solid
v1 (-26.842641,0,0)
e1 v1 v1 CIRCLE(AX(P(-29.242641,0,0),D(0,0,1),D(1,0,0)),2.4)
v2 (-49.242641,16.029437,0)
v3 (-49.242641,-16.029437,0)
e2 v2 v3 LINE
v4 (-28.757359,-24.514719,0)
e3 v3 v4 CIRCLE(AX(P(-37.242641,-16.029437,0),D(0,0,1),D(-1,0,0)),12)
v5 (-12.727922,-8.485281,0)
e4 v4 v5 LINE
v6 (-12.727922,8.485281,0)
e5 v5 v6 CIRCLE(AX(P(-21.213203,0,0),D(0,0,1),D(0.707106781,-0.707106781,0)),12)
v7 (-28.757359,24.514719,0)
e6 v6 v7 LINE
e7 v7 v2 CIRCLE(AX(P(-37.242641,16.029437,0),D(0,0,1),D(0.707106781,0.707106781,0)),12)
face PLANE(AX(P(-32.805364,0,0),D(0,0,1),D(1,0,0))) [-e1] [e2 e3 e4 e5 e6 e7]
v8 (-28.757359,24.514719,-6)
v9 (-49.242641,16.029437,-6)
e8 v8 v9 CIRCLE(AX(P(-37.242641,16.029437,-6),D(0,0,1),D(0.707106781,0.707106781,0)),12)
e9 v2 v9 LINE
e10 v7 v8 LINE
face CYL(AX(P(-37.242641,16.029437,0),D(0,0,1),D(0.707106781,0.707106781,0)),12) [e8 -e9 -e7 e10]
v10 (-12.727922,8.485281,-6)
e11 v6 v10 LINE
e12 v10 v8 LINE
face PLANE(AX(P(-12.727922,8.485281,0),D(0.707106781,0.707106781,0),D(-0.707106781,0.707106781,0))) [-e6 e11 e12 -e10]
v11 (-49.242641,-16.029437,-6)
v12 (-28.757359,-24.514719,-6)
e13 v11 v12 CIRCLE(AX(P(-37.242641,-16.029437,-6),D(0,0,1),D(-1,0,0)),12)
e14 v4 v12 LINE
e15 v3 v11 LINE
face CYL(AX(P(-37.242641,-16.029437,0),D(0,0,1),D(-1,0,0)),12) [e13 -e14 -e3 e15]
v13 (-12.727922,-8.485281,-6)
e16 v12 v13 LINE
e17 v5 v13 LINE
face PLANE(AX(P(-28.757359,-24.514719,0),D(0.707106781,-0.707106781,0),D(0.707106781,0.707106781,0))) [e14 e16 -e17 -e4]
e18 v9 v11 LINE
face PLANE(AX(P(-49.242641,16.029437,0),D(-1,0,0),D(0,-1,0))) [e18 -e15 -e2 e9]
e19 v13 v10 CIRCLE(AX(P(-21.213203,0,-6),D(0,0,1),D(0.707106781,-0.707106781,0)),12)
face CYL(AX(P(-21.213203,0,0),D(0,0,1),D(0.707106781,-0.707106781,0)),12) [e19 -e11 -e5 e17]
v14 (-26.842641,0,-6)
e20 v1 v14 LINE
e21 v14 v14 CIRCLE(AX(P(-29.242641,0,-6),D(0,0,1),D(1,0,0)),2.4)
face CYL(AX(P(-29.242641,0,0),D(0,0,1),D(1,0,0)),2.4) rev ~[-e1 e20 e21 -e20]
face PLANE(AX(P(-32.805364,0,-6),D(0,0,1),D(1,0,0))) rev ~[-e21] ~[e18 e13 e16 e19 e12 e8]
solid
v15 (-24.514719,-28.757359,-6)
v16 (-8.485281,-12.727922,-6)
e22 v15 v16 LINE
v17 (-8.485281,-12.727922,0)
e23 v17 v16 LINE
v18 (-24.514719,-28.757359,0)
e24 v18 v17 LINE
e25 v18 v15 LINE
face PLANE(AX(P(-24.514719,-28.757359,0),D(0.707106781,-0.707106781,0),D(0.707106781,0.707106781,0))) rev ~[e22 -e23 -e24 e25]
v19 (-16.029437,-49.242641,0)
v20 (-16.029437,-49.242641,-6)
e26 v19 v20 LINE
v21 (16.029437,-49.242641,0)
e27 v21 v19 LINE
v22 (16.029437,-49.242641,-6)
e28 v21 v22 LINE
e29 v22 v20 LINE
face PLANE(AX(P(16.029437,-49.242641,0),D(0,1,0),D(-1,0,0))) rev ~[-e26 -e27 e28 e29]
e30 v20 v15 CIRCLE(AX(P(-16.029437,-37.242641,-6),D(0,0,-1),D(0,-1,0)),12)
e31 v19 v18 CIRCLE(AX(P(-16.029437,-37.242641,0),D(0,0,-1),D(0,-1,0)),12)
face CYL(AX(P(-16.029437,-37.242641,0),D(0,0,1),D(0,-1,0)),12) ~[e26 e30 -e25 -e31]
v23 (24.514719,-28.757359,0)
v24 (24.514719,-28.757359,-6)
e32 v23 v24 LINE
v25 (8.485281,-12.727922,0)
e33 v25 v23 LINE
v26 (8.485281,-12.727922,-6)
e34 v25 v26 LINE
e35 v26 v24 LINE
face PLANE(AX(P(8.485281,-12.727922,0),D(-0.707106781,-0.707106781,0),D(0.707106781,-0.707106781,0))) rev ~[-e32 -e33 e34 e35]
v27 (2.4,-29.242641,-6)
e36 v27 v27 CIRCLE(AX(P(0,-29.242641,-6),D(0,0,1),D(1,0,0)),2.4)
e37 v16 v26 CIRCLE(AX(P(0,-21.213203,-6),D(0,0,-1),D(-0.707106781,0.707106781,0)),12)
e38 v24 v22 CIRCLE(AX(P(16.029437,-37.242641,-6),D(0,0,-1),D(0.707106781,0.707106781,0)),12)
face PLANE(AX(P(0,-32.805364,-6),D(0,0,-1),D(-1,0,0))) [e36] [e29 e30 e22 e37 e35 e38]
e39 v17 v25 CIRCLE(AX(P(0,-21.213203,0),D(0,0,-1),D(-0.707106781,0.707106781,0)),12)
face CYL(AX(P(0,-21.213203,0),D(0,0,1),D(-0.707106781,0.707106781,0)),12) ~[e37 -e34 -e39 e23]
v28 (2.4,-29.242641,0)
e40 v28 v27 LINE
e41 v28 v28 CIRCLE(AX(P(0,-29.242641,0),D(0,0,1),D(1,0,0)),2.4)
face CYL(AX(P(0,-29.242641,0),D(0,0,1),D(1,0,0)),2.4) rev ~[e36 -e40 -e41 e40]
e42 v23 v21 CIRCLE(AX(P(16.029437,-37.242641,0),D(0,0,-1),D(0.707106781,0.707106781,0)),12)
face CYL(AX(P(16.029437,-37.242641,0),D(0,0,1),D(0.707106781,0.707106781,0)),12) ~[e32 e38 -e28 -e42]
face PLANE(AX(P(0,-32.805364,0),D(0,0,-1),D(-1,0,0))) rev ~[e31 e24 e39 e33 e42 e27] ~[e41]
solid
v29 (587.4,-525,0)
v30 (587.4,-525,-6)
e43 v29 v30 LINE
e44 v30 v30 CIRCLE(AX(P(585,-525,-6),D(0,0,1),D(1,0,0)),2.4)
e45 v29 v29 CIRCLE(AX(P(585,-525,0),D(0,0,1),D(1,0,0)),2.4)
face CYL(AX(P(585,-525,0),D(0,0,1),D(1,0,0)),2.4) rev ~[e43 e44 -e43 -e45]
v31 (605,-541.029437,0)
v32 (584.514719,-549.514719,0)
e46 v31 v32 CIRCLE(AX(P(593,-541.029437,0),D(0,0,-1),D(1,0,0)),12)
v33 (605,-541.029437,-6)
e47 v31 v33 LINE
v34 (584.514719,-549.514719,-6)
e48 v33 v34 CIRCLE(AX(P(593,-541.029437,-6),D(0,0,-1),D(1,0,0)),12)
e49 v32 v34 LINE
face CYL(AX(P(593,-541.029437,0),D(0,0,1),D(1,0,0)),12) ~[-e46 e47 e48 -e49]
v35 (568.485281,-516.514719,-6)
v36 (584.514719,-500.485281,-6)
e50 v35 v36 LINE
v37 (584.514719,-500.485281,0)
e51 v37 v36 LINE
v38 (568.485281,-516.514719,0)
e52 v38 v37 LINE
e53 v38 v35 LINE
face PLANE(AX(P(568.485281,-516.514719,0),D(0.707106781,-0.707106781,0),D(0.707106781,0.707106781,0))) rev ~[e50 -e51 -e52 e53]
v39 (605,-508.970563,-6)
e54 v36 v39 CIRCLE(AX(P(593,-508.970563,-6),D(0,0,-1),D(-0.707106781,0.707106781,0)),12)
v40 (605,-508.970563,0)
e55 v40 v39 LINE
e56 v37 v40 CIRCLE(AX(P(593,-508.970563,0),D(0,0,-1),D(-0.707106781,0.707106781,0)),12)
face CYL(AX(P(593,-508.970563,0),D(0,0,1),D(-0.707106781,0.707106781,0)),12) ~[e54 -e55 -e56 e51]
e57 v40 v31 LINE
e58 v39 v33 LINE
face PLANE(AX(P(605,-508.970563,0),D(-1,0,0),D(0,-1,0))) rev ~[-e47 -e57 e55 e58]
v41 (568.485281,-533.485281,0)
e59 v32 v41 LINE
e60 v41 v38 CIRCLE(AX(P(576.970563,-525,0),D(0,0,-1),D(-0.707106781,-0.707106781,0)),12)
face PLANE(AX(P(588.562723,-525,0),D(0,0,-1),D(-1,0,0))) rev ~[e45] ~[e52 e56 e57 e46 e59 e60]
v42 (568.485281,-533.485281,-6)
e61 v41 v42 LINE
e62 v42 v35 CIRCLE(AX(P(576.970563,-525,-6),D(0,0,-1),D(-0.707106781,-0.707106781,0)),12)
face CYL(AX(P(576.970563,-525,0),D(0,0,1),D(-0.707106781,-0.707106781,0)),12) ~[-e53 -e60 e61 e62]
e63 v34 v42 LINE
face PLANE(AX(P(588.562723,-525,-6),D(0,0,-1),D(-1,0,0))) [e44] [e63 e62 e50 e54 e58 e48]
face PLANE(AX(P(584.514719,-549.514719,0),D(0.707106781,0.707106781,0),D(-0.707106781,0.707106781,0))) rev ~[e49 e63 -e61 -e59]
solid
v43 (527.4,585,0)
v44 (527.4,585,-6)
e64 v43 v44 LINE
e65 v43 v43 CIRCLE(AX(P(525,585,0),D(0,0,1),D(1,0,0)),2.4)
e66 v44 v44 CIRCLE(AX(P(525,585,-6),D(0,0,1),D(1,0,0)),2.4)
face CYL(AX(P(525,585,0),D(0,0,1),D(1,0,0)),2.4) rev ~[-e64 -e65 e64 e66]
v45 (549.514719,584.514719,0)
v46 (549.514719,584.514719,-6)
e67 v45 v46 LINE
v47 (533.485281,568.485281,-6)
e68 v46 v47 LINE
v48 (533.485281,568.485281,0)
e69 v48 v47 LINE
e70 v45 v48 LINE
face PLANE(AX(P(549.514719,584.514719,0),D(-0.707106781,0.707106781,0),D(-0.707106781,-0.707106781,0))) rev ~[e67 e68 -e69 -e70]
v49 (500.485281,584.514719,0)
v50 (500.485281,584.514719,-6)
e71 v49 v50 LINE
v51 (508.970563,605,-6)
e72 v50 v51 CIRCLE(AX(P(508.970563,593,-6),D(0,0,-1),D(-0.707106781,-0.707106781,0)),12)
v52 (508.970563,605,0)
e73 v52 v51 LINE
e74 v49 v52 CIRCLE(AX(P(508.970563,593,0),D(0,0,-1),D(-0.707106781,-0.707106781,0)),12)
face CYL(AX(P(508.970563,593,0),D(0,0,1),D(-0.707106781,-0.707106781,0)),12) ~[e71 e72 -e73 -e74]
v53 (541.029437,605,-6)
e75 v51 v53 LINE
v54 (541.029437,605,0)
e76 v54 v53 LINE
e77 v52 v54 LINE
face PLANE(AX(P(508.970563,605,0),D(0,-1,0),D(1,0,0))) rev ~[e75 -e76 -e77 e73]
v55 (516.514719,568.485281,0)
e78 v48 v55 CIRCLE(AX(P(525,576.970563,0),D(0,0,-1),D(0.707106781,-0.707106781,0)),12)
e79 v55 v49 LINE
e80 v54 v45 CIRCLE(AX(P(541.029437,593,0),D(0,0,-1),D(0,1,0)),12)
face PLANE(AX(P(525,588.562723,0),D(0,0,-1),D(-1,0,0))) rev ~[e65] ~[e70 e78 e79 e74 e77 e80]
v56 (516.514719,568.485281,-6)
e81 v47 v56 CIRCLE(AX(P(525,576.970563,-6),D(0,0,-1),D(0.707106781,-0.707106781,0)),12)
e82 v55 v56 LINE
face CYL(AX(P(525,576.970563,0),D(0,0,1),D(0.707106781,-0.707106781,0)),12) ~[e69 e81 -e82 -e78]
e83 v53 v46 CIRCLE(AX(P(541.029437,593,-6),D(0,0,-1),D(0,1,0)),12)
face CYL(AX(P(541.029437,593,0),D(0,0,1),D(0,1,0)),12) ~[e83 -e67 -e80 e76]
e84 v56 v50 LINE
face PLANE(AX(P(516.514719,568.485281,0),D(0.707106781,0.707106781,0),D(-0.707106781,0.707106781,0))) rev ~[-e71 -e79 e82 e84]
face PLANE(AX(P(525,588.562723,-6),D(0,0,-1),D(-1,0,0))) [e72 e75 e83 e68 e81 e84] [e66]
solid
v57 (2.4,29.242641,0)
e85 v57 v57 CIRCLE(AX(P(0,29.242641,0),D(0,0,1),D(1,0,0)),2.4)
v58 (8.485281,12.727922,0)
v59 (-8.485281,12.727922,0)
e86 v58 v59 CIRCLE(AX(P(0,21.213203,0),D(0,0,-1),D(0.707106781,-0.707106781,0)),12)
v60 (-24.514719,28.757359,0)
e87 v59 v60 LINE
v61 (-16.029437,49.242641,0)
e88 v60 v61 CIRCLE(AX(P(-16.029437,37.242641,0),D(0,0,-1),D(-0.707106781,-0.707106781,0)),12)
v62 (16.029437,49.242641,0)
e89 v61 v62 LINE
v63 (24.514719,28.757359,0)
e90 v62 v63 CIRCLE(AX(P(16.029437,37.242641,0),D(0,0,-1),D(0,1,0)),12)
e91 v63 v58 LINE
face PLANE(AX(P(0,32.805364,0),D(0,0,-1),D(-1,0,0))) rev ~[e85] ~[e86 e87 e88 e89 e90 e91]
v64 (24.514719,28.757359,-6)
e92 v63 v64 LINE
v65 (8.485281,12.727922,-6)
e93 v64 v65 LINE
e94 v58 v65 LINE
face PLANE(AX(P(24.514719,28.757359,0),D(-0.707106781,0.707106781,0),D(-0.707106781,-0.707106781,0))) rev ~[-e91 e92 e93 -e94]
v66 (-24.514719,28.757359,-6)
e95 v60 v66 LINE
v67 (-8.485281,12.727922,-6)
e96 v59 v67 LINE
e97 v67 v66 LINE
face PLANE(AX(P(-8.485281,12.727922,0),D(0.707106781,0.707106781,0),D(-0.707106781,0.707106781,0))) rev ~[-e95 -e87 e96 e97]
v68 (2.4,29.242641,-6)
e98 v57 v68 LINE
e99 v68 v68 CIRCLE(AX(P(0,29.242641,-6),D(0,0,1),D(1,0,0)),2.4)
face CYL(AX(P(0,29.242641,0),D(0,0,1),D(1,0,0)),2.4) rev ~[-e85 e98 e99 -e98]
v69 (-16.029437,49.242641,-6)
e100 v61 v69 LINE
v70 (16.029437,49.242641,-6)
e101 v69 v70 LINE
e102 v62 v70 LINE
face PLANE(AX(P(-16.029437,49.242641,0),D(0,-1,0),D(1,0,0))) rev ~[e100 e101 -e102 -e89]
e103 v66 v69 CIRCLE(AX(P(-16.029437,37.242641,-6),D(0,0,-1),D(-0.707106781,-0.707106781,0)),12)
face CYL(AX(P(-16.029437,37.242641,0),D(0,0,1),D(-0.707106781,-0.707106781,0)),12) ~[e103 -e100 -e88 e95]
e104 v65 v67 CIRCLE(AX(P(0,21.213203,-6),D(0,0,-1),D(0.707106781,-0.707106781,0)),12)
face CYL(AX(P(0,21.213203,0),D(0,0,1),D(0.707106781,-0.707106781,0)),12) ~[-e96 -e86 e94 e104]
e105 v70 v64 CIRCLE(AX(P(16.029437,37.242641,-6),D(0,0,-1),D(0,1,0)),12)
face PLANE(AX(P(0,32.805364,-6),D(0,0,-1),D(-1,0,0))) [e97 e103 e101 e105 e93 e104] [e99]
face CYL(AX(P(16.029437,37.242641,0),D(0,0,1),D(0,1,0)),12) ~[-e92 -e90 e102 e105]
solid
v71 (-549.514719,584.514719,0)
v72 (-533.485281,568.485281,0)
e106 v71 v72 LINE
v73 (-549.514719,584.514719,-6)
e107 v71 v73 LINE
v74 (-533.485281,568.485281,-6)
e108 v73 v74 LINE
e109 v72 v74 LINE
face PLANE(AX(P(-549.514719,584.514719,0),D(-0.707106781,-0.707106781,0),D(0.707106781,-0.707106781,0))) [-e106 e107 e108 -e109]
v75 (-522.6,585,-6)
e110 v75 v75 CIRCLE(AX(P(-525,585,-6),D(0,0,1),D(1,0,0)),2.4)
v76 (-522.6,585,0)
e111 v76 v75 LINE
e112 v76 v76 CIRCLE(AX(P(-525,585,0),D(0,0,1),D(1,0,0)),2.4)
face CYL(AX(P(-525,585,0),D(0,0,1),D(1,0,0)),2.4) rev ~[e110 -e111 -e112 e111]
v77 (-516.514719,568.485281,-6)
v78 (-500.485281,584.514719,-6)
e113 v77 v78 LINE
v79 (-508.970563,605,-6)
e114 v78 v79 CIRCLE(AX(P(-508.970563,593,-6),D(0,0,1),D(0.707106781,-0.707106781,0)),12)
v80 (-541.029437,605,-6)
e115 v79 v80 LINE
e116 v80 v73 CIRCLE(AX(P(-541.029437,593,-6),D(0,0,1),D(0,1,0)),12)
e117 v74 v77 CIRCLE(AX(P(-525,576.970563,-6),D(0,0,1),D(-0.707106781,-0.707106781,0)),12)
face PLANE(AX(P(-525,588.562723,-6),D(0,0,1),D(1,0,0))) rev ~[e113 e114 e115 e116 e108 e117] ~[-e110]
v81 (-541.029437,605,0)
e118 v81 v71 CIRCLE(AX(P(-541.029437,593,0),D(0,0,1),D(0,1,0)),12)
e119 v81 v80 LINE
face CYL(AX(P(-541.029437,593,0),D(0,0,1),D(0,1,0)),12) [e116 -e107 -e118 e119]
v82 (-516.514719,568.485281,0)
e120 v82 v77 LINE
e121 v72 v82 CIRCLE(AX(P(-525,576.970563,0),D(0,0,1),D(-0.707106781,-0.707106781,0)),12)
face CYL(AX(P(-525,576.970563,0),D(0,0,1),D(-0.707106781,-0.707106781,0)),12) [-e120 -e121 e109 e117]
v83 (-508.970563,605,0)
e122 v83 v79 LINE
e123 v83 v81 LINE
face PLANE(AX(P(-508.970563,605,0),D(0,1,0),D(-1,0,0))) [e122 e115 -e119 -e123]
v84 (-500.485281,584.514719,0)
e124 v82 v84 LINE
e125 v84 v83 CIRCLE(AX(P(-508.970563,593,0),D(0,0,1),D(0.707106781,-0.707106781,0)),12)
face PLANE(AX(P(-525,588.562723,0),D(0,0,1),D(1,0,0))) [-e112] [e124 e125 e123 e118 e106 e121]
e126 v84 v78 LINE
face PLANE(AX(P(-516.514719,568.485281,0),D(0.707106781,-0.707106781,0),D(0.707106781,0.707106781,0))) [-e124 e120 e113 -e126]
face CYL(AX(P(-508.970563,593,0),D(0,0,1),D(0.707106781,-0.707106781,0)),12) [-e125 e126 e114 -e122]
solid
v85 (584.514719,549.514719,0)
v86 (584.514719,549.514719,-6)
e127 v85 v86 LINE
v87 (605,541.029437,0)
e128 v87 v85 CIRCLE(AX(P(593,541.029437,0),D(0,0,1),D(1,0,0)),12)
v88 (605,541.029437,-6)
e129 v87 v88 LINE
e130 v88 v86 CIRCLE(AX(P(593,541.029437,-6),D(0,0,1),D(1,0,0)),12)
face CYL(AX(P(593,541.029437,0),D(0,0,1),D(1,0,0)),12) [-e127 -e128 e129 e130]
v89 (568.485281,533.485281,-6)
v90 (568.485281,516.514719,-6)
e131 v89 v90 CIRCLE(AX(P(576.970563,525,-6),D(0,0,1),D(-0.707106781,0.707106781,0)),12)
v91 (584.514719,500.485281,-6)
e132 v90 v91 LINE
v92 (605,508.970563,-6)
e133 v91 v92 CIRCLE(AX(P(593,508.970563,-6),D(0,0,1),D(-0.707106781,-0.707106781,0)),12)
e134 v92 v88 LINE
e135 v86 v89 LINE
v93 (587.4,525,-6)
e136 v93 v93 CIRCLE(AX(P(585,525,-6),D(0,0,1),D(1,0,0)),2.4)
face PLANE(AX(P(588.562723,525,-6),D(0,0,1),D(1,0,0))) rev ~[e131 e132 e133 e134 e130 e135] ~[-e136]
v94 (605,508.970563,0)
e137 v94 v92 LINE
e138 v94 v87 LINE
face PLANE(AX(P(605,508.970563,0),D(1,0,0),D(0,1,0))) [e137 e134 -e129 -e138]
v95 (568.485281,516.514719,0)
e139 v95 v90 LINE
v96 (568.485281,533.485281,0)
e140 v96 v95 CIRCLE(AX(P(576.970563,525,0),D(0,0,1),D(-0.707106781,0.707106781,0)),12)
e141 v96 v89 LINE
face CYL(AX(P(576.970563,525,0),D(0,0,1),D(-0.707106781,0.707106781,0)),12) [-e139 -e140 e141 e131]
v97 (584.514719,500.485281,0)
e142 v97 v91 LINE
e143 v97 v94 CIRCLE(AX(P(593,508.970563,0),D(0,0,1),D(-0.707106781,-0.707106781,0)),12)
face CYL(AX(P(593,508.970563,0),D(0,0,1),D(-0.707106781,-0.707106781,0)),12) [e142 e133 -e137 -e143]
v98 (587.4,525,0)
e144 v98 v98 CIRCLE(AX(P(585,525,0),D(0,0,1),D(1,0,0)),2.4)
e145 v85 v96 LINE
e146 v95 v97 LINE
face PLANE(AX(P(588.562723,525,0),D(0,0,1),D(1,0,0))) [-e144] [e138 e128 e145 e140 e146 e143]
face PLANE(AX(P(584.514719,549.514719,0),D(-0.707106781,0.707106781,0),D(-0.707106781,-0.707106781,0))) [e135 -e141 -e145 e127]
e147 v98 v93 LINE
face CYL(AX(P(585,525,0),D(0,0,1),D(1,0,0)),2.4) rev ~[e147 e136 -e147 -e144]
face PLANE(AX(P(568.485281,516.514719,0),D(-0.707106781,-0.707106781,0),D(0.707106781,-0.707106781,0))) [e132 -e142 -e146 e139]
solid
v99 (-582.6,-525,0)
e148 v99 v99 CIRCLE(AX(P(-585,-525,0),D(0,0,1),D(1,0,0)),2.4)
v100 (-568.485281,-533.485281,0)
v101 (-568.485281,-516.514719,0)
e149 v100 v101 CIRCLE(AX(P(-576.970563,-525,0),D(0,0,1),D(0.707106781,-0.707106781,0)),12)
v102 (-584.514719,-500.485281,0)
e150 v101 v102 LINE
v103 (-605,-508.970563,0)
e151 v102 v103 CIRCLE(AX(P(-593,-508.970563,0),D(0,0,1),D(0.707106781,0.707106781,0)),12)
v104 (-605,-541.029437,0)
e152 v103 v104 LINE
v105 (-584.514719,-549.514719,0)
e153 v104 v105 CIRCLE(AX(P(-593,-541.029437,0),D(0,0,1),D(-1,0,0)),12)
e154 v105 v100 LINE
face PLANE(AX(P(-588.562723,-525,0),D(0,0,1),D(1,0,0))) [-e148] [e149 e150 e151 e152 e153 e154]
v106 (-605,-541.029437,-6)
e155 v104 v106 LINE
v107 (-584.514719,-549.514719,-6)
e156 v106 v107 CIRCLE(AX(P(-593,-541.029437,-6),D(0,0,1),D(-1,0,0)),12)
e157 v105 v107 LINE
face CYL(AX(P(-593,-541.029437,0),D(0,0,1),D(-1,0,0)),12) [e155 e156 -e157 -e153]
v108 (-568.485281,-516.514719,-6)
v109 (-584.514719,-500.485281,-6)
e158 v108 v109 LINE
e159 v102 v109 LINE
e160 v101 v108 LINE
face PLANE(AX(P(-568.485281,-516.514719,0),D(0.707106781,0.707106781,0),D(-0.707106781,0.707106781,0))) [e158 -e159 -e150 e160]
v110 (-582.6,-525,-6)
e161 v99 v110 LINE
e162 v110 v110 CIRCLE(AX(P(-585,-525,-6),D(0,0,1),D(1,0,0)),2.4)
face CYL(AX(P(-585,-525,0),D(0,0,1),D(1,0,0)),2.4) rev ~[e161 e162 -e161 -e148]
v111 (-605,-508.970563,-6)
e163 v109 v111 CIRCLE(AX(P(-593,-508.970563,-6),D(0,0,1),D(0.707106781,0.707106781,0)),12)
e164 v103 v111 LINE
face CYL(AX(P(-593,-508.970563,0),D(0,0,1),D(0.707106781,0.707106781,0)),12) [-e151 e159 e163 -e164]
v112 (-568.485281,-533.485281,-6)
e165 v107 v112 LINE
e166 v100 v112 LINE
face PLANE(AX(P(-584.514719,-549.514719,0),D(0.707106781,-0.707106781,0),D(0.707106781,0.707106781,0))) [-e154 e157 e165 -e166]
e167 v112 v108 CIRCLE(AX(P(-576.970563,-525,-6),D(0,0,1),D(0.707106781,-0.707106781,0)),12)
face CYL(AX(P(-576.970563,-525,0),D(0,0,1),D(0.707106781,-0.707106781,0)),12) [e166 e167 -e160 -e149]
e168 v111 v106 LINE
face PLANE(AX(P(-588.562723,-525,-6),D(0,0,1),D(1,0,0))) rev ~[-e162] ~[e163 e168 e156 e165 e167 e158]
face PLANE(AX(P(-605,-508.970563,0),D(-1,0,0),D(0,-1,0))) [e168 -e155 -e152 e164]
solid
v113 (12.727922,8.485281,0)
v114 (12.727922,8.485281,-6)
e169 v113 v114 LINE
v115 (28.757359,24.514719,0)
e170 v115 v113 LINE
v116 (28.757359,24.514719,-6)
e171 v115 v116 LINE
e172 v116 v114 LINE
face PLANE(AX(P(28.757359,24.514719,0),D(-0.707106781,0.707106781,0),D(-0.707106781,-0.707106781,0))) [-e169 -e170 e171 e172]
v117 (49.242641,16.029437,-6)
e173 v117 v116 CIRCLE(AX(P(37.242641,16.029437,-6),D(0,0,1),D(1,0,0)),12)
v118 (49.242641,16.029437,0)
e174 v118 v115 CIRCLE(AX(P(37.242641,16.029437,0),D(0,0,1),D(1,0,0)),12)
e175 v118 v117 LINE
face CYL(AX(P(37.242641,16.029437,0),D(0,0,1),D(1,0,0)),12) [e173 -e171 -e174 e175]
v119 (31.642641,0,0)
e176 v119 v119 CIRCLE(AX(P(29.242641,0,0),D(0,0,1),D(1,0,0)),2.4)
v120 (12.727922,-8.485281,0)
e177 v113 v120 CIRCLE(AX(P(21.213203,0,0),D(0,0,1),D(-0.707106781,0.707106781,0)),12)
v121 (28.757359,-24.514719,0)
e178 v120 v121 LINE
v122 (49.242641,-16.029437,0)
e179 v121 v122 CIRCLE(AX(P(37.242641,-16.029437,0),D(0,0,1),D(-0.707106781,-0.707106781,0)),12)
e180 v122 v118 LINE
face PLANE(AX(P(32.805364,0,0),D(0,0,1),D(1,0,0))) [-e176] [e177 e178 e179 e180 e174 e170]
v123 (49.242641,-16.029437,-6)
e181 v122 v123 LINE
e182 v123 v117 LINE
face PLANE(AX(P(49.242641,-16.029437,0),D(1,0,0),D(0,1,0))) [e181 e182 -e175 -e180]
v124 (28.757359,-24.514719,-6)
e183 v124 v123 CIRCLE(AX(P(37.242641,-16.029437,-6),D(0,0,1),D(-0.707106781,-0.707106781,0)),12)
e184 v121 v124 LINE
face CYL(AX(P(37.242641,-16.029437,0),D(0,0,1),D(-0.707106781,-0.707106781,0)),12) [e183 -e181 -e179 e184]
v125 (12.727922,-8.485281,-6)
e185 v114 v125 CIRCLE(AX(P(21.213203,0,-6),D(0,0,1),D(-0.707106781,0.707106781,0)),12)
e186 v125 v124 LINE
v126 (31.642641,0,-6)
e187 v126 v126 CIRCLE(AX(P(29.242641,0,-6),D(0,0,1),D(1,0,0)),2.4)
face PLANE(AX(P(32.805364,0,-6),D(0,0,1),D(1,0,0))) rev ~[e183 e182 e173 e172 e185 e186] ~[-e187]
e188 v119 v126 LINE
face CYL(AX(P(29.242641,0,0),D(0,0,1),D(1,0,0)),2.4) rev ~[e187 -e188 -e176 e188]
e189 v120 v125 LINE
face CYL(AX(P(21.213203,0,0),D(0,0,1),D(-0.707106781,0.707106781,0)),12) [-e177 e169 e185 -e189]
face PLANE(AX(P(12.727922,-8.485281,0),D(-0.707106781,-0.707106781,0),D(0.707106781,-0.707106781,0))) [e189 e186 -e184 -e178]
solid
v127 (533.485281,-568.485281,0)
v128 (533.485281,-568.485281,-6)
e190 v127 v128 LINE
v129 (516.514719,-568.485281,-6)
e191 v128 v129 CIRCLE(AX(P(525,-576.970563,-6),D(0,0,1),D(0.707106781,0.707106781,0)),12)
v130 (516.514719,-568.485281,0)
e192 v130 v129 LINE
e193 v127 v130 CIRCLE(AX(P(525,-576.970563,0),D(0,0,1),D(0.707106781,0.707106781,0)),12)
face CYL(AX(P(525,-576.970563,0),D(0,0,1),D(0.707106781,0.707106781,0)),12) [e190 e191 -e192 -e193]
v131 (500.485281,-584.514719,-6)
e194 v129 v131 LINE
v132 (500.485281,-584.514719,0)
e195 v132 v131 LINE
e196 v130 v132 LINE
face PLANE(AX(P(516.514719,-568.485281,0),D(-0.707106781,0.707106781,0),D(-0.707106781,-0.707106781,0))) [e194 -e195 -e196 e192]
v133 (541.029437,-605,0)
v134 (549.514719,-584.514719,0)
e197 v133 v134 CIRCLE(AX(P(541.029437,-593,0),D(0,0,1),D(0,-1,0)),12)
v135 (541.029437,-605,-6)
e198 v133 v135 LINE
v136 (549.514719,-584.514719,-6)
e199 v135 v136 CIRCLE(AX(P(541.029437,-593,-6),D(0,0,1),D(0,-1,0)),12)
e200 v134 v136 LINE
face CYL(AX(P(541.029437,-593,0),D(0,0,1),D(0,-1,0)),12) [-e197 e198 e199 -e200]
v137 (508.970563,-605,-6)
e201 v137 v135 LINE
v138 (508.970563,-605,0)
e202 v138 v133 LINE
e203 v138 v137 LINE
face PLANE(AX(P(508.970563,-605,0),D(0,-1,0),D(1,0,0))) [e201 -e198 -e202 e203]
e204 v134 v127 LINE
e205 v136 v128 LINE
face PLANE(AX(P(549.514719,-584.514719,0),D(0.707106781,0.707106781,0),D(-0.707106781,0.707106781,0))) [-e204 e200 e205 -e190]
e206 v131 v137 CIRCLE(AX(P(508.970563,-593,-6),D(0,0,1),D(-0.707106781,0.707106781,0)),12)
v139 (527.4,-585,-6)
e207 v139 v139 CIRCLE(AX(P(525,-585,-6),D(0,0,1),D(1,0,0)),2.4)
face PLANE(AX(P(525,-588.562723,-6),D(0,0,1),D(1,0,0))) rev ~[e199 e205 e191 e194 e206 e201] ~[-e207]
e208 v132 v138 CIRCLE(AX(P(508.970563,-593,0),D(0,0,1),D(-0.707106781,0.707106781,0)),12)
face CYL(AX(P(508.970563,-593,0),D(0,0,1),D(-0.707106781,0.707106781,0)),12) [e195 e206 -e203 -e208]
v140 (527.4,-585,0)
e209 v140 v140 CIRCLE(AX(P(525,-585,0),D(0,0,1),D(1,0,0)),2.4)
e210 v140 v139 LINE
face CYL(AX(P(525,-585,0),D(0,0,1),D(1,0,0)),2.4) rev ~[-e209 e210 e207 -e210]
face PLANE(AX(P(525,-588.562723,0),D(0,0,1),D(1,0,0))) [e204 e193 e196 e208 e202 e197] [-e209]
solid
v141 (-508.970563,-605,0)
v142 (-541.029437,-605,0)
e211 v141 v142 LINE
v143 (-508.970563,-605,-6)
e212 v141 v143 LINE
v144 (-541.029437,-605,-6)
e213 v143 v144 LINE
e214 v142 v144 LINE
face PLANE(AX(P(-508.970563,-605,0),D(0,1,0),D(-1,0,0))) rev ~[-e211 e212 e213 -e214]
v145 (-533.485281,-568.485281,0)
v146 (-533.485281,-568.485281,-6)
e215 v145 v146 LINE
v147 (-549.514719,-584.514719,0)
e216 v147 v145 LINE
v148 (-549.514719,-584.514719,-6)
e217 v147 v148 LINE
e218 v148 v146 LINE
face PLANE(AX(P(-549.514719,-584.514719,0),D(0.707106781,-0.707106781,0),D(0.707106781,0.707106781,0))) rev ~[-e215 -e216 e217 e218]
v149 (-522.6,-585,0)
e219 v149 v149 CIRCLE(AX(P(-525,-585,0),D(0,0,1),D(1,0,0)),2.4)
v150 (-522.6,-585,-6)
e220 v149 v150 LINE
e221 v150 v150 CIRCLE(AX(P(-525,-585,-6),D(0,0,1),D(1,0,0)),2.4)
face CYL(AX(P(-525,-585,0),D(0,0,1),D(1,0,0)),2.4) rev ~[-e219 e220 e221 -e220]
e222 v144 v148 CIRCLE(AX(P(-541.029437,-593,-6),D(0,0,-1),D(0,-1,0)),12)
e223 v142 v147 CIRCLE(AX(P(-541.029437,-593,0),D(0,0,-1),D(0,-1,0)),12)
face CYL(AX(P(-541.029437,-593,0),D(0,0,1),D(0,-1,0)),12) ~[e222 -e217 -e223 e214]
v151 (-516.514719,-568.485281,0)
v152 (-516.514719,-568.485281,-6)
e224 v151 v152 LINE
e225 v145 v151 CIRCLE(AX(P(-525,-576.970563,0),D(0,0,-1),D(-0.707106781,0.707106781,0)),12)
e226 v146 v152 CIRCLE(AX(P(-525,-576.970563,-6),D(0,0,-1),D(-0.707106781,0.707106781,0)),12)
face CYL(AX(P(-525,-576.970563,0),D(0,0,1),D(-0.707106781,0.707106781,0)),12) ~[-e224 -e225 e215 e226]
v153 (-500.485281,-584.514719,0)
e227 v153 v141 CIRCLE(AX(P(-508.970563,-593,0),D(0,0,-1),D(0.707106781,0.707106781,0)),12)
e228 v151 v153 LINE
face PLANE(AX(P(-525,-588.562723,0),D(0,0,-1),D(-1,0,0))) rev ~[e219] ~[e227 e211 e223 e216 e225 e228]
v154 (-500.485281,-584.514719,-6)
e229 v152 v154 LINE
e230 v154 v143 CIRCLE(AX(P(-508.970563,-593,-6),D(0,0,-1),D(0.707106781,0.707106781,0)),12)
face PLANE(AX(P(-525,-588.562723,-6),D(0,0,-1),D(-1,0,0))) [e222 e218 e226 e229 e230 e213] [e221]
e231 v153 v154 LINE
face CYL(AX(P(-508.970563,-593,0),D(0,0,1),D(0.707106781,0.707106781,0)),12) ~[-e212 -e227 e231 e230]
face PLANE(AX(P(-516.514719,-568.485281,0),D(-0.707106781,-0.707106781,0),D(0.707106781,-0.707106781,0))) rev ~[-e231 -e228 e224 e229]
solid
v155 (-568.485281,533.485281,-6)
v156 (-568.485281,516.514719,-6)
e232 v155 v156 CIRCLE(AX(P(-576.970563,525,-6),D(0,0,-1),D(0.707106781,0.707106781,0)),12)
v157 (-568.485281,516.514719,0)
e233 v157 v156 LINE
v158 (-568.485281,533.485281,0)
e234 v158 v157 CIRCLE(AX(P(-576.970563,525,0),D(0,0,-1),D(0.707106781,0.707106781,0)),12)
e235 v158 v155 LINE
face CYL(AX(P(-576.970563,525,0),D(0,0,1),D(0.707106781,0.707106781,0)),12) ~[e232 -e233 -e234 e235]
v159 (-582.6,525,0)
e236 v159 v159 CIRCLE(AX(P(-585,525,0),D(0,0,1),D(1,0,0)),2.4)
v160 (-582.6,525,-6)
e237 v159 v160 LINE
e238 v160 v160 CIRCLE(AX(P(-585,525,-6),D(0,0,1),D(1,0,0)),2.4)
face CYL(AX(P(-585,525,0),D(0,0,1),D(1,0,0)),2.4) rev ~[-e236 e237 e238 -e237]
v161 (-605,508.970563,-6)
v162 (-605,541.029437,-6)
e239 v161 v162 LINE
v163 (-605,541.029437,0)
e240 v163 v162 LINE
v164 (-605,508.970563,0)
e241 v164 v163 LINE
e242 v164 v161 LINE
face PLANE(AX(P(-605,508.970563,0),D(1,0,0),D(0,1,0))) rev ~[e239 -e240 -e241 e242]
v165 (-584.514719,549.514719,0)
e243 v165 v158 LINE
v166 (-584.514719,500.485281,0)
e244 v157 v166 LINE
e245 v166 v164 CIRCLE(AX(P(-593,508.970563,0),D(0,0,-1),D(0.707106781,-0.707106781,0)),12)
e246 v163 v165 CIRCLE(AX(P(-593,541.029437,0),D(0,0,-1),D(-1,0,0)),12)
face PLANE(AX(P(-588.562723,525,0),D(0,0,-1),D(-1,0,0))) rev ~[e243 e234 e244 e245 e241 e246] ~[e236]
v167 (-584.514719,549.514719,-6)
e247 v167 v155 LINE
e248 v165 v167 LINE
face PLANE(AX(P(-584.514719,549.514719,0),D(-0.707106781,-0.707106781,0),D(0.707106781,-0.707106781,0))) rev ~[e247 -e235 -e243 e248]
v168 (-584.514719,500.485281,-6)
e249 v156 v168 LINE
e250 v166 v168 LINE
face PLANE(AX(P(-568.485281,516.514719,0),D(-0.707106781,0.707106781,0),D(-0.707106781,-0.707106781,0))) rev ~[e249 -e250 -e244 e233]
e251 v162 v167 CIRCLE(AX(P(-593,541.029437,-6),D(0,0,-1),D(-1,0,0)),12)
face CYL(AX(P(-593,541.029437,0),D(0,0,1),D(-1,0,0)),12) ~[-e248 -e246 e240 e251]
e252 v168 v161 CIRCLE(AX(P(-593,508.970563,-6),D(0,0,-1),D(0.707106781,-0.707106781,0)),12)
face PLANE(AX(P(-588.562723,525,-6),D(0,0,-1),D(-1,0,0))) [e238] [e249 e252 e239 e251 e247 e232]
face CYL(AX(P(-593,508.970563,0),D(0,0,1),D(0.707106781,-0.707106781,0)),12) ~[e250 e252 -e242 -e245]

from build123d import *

# Parameters (mm, degrees)
SKETCH1_R              = 2.4
BOSS_EXTRUDE1_DEPTH    = 6
BOSS_EXTRUDE1_2_DEPTH  = 6
BOSS_EXTRUDE1_3_DEPTH  = 6
BOSS_EXTRUDE1_4_DEPTH  = 6
BOSS_EXTRUDE1_5_DEPTH  = 6
BOSS_EXTRUDE1_6_DEPTH  = 6
BOSS_EXTRUDE1_7_DEPTH  = 6
BOSS_EXTRUDE1_8_DEPTH  = 6
BOSS_EXTRUDE1_9_DEPTH  = 6
BOSS_EXTRUDE1_10_DEPTH = 6
BOSS_EXTRUDE1_11_DEPTH = 6
BOSS_EXTRUDE1_12_DEPTH = 6


with BuildPart() as part:
    # Sketch1 → Boss-Extrude1 (new body)
    with BuildSketch(Plane.XY):
        with BuildLine():
            Line((549.514718626, -584.514718626), (533.485281374, -568.485281374))
            ThreePointArc((533.485281374, -568.485281374), (525, -564.970562748), (516.514718626, -568.485281374))
            Line((516.514718626, -568.485281374), (500.485281374, -584.514718626))
            ThreePointArc((500.485281374, -584.514718626), (497.884008358, -597.592201188), (508.970562748, -605))
            Line((508.970562748, -605), (541.029437252, -605))
            ThreePointArc((541.029437252, -605), (552.115991642, -597.592201188), (549.514718626, -584.514718626))
        make_face()
        with Locations((525, -585)):
            Circle(SKETCH1_R, mode=Mode.SUBTRACT)
    extrude(amount=-BOSS_EXTRUDE1_DEPTH)


with BuildPart() as body_2:
    # Sketch1 → Boss-Extrude1 2 (new body)
    with BuildSketch(Plane.XY):
        with BuildLine():
            Line((605, -508.970562748), (605, -541.029437252))
            ThreePointArc((605, -541.029437252), (597.592201188, -552.115991642), (584.514718626, -549.514718626))
            Line((584.514718626, -549.514718626), (568.485281374, -533.485281374))
            ThreePointArc((568.485281374, -533.485281374), (564.970562748, -525), (568.485281374, -516.514718626))
            Line((568.485281374, -516.514718626), (584.514718626, -500.485281374))
            ThreePointArc((584.514718626, -500.485281374), (597.592201188, -497.884008358), (605, -508.970562748))
        make_face()
        with Locations((585, -525)):
            Circle(SKETCH1_R, mode=Mode.SUBTRACT)
    extrude(amount=-BOSS_EXTRUDE1_2_DEPTH)


with BuildPart() as body_3:
    # Sketch1 → Boss-Extrude1 3 (new body)
    with BuildSketch(Plane.XY):
        with BuildLine():
            Line((-584.514718626, -549.514718626), (-568.485281374, -533.485281374))
            ThreePointArc((-568.485281374, -533.485281374), (-564.970562748, -525), (-568.485281374, -516.514718626))
            Line((-568.485281374, -516.514718626), (-584.514718626, -500.485281374))
            ThreePointArc((-584.514718626, -500.485281374), (-597.592201188, -497.884008358), (-605, -508.970562748))
            Line((-605, -508.970562748), (-605, -541.029437252))
            ThreePointArc((-605, -541.029437252), (-597.592201188, -552.115991642), (-584.514718626, -549.514718626))
        make_face()
        with Locations((-585, -525)):
            Circle(SKETCH1_R, mode=Mode.SUBTRACT)
    extrude(amount=-BOSS_EXTRUDE1_3_DEPTH)


with BuildPart() as body_4:
    # Sketch1 → Boss-Extrude1 4 (new body)
    with BuildSketch(Plane.XY):
        with BuildLine():
            Line((-508.970562748, -605), (-541.029437252, -605))
            ThreePointArc((-541.029437252, -605), (-552.115991642, -597.592201188), (-549.514718626, -584.514718626))
            Line((-549.514718626, -584.514718626), (-533.485281374, -568.485281374))
            ThreePointArc((-533.485281374, -568.485281374), (-525, -564.970562748), (-516.514718626, -568.485281374))
            Line((-516.514718626, -568.485281374), (-500.485281374, -584.514718626))
            ThreePointArc((-500.485281374, -584.514718626), (-497.884008358, -597.592201188), (-508.970562748, -605))
        make_face()
        with Locations((-525, -585)):
            Circle(SKETCH1_R, mode=Mode.SUBTRACT)
    extrude(amount=-BOSS_EXTRUDE1_4_DEPTH)


with BuildPart() as body_5:
    # Sketch1 → Boss-Extrude1 5 (new body)
    with BuildSketch(Plane.XY):
        with BuildLine():
            Line((-549.514718626, 584.514718626), (-533.485281374, 568.485281374))
            ThreePointArc((-533.485281374, 568.485281374), (-525, 564.970562748), (-516.514718626, 568.485281374))
            Line((-516.514718626, 568.485281374), (-500.485281374, 584.514718626))
            ThreePointArc((-500.485281374, 584.514718626), (-497.884008358, 597.592201188), (-508.970562748, 605))
            Line((-508.970562748, 605), (-541.029437252, 605))
            ThreePointArc((-541.029437252, 605), (-552.115991642, 597.592201188), (-549.514718626, 584.514718626))
        make_face()
        with Locations((-525, 585)):
            Circle(SKETCH1_R, mode=Mode.SUBTRACT)
    extrude(amount=-BOSS_EXTRUDE1_5_DEPTH)


with BuildPart() as body_6:
    # Sketch1 → Boss-Extrude1 6 (new body)
    with BuildSketch(Plane.XY):
        with BuildLine():
            Line((-605, 508.970562748), (-605, 541.029437252))
            ThreePointArc((-605, 541.029437252), (-597.592201188, 552.115991642), (-584.514718626, 549.514718626))
            Line((-584.514718626, 549.514718626), (-568.485281374, 533.485281374))
            ThreePointArc((-568.485281374, 533.485281374), (-564.970562748, 525), (-568.485281374, 516.514718626))
            Line((-568.485281374, 516.514718626), (-584.514718626, 500.485281374))
            ThreePointArc((-584.514718626, 500.485281374), (-597.592201188, 497.884008358), (-605, 508.970562748))
        make_face()
        with Locations((-585, 525)):
            Circle(SKETCH1_R, mode=Mode.SUBTRACT)
    extrude(amount=-BOSS_EXTRUDE1_6_DEPTH)


with BuildPart() as body_7:
    # Sketch1 → Boss-Extrude1 7 (new body)
    with BuildSketch(Plane.XY):
        with BuildLine():
            Line((584.514718626, 549.514718626), (568.485281374, 533.485281374))
            ThreePointArc((568.485281374, 533.485281374), (564.970562748, 525), (568.485281374, 516.514718626))
            Line((568.485281374, 516.514718626), (584.514718626, 500.485281374))
            ThreePointArc((584.514718626, 500.485281374), (597.592201188, 497.884008358), (605, 508.970562748))
            Line((605, 508.970562748), (605, 541.029437252))
            ThreePointArc((605, 541.029437252), (597.592201188, 552.115991642), (584.514718626, 549.514718626))
        make_face()
        with Locations((585, 525)):
            Circle(SKETCH1_R, mode=Mode.SUBTRACT)
    extrude(amount=-BOSS_EXTRUDE1_7_DEPTH)


with BuildPart() as body_8:
    # Sketch1 → Boss-Extrude1 8 (new body)
    with BuildSketch(Plane.XY):
        with BuildLine():
            Line((508.970562748, 605), (541.029437252, 605))
            ThreePointArc((541.029437252, 605), (552.115991642, 597.592201188), (549.514718626, 584.514718626))
            Line((549.514718626, 584.514718626), (533.485281374, 568.485281374))
            ThreePointArc((533.485281374, 568.485281374), (525, 564.970562748), (516.514718626, 568.485281374))
            Line((516.514718626, 568.485281374), (500.485281374, 584.514718626))
            ThreePointArc((500.485281374, 584.514718626), (497.884008358, 597.592201188), (508.970562748, 605))
        make_face()
        with Locations((525, 585)):
            Circle(SKETCH1_R, mode=Mode.SUBTRACT)
    extrude(amount=-BOSS_EXTRUDE1_8_DEPTH)


with BuildPart() as body_9:
    # Sketch1 → Boss-Extrude1 9 (new body)
    with BuildSketch(Plane.XY):
        with BuildLine():
            Line((16.029437252, -49.242640687), (-16.029437252, -49.242640687))
            ThreePointArc((-16.029437252, -49.242640687), (-27.115991642, -41.834841876), (-24.514718626, -28.757359313))
            Line((-24.514718626, -28.757359313), (-8.485281374, -12.727922061))
            ThreePointArc((-8.485281374, -12.727922061), (0, -9.213203436), (8.485281374, -12.727922061))
            Line((8.485281374, -12.727922061), (24.514718626, -28.757359313))
            ThreePointArc((24.514718626, -28.757359313), (27.115991642, -41.834841876), (16.029437252, -49.242640687))
        make_face()
        with Locations((0, -29.242640687)):
            Circle(SKETCH1_R, mode=Mode.SUBTRACT)
    extrude(amount=-BOSS_EXTRUDE1_9_DEPTH)


with BuildPart() as body_10:
    # Sketch1 → Boss-Extrude1 10 (new body)
    with BuildSketch(Plane.XY):
        with BuildLine():
            Line((12.727922061, -8.485281374), (28.757359313, -24.514718626))
            ThreePointArc((28.757359313, -24.514718626), (41.834841876, -27.115991642), (49.242640687, -16.029437252))
            Line((49.242640687, -16.029437252), (49.242640687, 16.029437252))
            ThreePointArc((49.242640687, 16.029437252), (41.834841876, 27.115991642), (28.757359313, 24.514718626))
            Line((28.757359313, 24.514718626), (12.727922061, 8.485281374))
            ThreePointArc((12.727922061, 8.485281374), (9.213203436, 0), (12.727922061, -8.485281374))
        make_face()
        with Locations((29.242640687, 0)):
            Circle(SKETCH1_R, mode=Mode.SUBTRACT)
    extrude(amount=-BOSS_EXTRUDE1_10_DEPTH)


with BuildPart() as body_11:
    # Sketch1 → Boss-Extrude1 11 (new body)
    with BuildSketch(Plane.XY):
        with BuildLine():
            Line((-16.029437252, 49.242640687), (16.029437252, 49.242640687))
            ThreePointArc((16.029437252, 49.242640687), (27.115991642, 41.834841876), (24.514718626, 28.757359313))
            Line((24.514718626, 28.757359313), (8.485281374, 12.727922061))
            ThreePointArc((8.485281374, 12.727922061), (0, 9.213203436), (-8.485281374, 12.727922061))
            Line((-8.485281374, 12.727922061), (-24.514718626, 28.757359313))
            ThreePointArc((-24.514718626, 28.757359313), (-27.115991642, 41.834841876), (-16.029437252, 49.242640687))
        make_face()
        with Locations((0, 29.242640687)):
            Circle(SKETCH1_R, mode=Mode.SUBTRACT)
    extrude(amount=-BOSS_EXTRUDE1_11_DEPTH)


with BuildPart() as body_12:
    # Sketch1 → Boss-Extrude1 12 (new body)
    with BuildSketch(Plane.XY):
        with BuildLine():
            Line((-12.727922061, 8.485281374), (-28.757359313, 24.514718626))
            ThreePointArc((-28.757359313, 24.514718626), (-41.834841876, 27.115991642), (-49.242640687, 16.029437252))
            Line((-49.242640687, 16.029437252), (-49.242640687, -16.029437252))
            ThreePointArc((-49.242640687, -16.029437252), (-41.834841876, -27.115991642), (-28.757359313, -24.514718626))
            Line((-28.757359313, -24.514718626), (-12.727922061, -8.485281374))
            ThreePointArc((-12.727922061, -8.485281374), (-9.213203436, 0), (-12.727922061, 8.485281374))
        make_face()
        with Locations((-29.242640687, 0)):
            Circle(SKETCH1_R, mode=Mode.SUBTRACT)
    extrude(amount=-BOSS_EXTRUDE1_12_DEPTH)


solid = Compound([part.part, body_2.part, body_3.part, body_4.part, body_5.part, body_6.part, body_7.part, body_8.part, body_9.part, body_10.part, body_11.part, body_12.part])
